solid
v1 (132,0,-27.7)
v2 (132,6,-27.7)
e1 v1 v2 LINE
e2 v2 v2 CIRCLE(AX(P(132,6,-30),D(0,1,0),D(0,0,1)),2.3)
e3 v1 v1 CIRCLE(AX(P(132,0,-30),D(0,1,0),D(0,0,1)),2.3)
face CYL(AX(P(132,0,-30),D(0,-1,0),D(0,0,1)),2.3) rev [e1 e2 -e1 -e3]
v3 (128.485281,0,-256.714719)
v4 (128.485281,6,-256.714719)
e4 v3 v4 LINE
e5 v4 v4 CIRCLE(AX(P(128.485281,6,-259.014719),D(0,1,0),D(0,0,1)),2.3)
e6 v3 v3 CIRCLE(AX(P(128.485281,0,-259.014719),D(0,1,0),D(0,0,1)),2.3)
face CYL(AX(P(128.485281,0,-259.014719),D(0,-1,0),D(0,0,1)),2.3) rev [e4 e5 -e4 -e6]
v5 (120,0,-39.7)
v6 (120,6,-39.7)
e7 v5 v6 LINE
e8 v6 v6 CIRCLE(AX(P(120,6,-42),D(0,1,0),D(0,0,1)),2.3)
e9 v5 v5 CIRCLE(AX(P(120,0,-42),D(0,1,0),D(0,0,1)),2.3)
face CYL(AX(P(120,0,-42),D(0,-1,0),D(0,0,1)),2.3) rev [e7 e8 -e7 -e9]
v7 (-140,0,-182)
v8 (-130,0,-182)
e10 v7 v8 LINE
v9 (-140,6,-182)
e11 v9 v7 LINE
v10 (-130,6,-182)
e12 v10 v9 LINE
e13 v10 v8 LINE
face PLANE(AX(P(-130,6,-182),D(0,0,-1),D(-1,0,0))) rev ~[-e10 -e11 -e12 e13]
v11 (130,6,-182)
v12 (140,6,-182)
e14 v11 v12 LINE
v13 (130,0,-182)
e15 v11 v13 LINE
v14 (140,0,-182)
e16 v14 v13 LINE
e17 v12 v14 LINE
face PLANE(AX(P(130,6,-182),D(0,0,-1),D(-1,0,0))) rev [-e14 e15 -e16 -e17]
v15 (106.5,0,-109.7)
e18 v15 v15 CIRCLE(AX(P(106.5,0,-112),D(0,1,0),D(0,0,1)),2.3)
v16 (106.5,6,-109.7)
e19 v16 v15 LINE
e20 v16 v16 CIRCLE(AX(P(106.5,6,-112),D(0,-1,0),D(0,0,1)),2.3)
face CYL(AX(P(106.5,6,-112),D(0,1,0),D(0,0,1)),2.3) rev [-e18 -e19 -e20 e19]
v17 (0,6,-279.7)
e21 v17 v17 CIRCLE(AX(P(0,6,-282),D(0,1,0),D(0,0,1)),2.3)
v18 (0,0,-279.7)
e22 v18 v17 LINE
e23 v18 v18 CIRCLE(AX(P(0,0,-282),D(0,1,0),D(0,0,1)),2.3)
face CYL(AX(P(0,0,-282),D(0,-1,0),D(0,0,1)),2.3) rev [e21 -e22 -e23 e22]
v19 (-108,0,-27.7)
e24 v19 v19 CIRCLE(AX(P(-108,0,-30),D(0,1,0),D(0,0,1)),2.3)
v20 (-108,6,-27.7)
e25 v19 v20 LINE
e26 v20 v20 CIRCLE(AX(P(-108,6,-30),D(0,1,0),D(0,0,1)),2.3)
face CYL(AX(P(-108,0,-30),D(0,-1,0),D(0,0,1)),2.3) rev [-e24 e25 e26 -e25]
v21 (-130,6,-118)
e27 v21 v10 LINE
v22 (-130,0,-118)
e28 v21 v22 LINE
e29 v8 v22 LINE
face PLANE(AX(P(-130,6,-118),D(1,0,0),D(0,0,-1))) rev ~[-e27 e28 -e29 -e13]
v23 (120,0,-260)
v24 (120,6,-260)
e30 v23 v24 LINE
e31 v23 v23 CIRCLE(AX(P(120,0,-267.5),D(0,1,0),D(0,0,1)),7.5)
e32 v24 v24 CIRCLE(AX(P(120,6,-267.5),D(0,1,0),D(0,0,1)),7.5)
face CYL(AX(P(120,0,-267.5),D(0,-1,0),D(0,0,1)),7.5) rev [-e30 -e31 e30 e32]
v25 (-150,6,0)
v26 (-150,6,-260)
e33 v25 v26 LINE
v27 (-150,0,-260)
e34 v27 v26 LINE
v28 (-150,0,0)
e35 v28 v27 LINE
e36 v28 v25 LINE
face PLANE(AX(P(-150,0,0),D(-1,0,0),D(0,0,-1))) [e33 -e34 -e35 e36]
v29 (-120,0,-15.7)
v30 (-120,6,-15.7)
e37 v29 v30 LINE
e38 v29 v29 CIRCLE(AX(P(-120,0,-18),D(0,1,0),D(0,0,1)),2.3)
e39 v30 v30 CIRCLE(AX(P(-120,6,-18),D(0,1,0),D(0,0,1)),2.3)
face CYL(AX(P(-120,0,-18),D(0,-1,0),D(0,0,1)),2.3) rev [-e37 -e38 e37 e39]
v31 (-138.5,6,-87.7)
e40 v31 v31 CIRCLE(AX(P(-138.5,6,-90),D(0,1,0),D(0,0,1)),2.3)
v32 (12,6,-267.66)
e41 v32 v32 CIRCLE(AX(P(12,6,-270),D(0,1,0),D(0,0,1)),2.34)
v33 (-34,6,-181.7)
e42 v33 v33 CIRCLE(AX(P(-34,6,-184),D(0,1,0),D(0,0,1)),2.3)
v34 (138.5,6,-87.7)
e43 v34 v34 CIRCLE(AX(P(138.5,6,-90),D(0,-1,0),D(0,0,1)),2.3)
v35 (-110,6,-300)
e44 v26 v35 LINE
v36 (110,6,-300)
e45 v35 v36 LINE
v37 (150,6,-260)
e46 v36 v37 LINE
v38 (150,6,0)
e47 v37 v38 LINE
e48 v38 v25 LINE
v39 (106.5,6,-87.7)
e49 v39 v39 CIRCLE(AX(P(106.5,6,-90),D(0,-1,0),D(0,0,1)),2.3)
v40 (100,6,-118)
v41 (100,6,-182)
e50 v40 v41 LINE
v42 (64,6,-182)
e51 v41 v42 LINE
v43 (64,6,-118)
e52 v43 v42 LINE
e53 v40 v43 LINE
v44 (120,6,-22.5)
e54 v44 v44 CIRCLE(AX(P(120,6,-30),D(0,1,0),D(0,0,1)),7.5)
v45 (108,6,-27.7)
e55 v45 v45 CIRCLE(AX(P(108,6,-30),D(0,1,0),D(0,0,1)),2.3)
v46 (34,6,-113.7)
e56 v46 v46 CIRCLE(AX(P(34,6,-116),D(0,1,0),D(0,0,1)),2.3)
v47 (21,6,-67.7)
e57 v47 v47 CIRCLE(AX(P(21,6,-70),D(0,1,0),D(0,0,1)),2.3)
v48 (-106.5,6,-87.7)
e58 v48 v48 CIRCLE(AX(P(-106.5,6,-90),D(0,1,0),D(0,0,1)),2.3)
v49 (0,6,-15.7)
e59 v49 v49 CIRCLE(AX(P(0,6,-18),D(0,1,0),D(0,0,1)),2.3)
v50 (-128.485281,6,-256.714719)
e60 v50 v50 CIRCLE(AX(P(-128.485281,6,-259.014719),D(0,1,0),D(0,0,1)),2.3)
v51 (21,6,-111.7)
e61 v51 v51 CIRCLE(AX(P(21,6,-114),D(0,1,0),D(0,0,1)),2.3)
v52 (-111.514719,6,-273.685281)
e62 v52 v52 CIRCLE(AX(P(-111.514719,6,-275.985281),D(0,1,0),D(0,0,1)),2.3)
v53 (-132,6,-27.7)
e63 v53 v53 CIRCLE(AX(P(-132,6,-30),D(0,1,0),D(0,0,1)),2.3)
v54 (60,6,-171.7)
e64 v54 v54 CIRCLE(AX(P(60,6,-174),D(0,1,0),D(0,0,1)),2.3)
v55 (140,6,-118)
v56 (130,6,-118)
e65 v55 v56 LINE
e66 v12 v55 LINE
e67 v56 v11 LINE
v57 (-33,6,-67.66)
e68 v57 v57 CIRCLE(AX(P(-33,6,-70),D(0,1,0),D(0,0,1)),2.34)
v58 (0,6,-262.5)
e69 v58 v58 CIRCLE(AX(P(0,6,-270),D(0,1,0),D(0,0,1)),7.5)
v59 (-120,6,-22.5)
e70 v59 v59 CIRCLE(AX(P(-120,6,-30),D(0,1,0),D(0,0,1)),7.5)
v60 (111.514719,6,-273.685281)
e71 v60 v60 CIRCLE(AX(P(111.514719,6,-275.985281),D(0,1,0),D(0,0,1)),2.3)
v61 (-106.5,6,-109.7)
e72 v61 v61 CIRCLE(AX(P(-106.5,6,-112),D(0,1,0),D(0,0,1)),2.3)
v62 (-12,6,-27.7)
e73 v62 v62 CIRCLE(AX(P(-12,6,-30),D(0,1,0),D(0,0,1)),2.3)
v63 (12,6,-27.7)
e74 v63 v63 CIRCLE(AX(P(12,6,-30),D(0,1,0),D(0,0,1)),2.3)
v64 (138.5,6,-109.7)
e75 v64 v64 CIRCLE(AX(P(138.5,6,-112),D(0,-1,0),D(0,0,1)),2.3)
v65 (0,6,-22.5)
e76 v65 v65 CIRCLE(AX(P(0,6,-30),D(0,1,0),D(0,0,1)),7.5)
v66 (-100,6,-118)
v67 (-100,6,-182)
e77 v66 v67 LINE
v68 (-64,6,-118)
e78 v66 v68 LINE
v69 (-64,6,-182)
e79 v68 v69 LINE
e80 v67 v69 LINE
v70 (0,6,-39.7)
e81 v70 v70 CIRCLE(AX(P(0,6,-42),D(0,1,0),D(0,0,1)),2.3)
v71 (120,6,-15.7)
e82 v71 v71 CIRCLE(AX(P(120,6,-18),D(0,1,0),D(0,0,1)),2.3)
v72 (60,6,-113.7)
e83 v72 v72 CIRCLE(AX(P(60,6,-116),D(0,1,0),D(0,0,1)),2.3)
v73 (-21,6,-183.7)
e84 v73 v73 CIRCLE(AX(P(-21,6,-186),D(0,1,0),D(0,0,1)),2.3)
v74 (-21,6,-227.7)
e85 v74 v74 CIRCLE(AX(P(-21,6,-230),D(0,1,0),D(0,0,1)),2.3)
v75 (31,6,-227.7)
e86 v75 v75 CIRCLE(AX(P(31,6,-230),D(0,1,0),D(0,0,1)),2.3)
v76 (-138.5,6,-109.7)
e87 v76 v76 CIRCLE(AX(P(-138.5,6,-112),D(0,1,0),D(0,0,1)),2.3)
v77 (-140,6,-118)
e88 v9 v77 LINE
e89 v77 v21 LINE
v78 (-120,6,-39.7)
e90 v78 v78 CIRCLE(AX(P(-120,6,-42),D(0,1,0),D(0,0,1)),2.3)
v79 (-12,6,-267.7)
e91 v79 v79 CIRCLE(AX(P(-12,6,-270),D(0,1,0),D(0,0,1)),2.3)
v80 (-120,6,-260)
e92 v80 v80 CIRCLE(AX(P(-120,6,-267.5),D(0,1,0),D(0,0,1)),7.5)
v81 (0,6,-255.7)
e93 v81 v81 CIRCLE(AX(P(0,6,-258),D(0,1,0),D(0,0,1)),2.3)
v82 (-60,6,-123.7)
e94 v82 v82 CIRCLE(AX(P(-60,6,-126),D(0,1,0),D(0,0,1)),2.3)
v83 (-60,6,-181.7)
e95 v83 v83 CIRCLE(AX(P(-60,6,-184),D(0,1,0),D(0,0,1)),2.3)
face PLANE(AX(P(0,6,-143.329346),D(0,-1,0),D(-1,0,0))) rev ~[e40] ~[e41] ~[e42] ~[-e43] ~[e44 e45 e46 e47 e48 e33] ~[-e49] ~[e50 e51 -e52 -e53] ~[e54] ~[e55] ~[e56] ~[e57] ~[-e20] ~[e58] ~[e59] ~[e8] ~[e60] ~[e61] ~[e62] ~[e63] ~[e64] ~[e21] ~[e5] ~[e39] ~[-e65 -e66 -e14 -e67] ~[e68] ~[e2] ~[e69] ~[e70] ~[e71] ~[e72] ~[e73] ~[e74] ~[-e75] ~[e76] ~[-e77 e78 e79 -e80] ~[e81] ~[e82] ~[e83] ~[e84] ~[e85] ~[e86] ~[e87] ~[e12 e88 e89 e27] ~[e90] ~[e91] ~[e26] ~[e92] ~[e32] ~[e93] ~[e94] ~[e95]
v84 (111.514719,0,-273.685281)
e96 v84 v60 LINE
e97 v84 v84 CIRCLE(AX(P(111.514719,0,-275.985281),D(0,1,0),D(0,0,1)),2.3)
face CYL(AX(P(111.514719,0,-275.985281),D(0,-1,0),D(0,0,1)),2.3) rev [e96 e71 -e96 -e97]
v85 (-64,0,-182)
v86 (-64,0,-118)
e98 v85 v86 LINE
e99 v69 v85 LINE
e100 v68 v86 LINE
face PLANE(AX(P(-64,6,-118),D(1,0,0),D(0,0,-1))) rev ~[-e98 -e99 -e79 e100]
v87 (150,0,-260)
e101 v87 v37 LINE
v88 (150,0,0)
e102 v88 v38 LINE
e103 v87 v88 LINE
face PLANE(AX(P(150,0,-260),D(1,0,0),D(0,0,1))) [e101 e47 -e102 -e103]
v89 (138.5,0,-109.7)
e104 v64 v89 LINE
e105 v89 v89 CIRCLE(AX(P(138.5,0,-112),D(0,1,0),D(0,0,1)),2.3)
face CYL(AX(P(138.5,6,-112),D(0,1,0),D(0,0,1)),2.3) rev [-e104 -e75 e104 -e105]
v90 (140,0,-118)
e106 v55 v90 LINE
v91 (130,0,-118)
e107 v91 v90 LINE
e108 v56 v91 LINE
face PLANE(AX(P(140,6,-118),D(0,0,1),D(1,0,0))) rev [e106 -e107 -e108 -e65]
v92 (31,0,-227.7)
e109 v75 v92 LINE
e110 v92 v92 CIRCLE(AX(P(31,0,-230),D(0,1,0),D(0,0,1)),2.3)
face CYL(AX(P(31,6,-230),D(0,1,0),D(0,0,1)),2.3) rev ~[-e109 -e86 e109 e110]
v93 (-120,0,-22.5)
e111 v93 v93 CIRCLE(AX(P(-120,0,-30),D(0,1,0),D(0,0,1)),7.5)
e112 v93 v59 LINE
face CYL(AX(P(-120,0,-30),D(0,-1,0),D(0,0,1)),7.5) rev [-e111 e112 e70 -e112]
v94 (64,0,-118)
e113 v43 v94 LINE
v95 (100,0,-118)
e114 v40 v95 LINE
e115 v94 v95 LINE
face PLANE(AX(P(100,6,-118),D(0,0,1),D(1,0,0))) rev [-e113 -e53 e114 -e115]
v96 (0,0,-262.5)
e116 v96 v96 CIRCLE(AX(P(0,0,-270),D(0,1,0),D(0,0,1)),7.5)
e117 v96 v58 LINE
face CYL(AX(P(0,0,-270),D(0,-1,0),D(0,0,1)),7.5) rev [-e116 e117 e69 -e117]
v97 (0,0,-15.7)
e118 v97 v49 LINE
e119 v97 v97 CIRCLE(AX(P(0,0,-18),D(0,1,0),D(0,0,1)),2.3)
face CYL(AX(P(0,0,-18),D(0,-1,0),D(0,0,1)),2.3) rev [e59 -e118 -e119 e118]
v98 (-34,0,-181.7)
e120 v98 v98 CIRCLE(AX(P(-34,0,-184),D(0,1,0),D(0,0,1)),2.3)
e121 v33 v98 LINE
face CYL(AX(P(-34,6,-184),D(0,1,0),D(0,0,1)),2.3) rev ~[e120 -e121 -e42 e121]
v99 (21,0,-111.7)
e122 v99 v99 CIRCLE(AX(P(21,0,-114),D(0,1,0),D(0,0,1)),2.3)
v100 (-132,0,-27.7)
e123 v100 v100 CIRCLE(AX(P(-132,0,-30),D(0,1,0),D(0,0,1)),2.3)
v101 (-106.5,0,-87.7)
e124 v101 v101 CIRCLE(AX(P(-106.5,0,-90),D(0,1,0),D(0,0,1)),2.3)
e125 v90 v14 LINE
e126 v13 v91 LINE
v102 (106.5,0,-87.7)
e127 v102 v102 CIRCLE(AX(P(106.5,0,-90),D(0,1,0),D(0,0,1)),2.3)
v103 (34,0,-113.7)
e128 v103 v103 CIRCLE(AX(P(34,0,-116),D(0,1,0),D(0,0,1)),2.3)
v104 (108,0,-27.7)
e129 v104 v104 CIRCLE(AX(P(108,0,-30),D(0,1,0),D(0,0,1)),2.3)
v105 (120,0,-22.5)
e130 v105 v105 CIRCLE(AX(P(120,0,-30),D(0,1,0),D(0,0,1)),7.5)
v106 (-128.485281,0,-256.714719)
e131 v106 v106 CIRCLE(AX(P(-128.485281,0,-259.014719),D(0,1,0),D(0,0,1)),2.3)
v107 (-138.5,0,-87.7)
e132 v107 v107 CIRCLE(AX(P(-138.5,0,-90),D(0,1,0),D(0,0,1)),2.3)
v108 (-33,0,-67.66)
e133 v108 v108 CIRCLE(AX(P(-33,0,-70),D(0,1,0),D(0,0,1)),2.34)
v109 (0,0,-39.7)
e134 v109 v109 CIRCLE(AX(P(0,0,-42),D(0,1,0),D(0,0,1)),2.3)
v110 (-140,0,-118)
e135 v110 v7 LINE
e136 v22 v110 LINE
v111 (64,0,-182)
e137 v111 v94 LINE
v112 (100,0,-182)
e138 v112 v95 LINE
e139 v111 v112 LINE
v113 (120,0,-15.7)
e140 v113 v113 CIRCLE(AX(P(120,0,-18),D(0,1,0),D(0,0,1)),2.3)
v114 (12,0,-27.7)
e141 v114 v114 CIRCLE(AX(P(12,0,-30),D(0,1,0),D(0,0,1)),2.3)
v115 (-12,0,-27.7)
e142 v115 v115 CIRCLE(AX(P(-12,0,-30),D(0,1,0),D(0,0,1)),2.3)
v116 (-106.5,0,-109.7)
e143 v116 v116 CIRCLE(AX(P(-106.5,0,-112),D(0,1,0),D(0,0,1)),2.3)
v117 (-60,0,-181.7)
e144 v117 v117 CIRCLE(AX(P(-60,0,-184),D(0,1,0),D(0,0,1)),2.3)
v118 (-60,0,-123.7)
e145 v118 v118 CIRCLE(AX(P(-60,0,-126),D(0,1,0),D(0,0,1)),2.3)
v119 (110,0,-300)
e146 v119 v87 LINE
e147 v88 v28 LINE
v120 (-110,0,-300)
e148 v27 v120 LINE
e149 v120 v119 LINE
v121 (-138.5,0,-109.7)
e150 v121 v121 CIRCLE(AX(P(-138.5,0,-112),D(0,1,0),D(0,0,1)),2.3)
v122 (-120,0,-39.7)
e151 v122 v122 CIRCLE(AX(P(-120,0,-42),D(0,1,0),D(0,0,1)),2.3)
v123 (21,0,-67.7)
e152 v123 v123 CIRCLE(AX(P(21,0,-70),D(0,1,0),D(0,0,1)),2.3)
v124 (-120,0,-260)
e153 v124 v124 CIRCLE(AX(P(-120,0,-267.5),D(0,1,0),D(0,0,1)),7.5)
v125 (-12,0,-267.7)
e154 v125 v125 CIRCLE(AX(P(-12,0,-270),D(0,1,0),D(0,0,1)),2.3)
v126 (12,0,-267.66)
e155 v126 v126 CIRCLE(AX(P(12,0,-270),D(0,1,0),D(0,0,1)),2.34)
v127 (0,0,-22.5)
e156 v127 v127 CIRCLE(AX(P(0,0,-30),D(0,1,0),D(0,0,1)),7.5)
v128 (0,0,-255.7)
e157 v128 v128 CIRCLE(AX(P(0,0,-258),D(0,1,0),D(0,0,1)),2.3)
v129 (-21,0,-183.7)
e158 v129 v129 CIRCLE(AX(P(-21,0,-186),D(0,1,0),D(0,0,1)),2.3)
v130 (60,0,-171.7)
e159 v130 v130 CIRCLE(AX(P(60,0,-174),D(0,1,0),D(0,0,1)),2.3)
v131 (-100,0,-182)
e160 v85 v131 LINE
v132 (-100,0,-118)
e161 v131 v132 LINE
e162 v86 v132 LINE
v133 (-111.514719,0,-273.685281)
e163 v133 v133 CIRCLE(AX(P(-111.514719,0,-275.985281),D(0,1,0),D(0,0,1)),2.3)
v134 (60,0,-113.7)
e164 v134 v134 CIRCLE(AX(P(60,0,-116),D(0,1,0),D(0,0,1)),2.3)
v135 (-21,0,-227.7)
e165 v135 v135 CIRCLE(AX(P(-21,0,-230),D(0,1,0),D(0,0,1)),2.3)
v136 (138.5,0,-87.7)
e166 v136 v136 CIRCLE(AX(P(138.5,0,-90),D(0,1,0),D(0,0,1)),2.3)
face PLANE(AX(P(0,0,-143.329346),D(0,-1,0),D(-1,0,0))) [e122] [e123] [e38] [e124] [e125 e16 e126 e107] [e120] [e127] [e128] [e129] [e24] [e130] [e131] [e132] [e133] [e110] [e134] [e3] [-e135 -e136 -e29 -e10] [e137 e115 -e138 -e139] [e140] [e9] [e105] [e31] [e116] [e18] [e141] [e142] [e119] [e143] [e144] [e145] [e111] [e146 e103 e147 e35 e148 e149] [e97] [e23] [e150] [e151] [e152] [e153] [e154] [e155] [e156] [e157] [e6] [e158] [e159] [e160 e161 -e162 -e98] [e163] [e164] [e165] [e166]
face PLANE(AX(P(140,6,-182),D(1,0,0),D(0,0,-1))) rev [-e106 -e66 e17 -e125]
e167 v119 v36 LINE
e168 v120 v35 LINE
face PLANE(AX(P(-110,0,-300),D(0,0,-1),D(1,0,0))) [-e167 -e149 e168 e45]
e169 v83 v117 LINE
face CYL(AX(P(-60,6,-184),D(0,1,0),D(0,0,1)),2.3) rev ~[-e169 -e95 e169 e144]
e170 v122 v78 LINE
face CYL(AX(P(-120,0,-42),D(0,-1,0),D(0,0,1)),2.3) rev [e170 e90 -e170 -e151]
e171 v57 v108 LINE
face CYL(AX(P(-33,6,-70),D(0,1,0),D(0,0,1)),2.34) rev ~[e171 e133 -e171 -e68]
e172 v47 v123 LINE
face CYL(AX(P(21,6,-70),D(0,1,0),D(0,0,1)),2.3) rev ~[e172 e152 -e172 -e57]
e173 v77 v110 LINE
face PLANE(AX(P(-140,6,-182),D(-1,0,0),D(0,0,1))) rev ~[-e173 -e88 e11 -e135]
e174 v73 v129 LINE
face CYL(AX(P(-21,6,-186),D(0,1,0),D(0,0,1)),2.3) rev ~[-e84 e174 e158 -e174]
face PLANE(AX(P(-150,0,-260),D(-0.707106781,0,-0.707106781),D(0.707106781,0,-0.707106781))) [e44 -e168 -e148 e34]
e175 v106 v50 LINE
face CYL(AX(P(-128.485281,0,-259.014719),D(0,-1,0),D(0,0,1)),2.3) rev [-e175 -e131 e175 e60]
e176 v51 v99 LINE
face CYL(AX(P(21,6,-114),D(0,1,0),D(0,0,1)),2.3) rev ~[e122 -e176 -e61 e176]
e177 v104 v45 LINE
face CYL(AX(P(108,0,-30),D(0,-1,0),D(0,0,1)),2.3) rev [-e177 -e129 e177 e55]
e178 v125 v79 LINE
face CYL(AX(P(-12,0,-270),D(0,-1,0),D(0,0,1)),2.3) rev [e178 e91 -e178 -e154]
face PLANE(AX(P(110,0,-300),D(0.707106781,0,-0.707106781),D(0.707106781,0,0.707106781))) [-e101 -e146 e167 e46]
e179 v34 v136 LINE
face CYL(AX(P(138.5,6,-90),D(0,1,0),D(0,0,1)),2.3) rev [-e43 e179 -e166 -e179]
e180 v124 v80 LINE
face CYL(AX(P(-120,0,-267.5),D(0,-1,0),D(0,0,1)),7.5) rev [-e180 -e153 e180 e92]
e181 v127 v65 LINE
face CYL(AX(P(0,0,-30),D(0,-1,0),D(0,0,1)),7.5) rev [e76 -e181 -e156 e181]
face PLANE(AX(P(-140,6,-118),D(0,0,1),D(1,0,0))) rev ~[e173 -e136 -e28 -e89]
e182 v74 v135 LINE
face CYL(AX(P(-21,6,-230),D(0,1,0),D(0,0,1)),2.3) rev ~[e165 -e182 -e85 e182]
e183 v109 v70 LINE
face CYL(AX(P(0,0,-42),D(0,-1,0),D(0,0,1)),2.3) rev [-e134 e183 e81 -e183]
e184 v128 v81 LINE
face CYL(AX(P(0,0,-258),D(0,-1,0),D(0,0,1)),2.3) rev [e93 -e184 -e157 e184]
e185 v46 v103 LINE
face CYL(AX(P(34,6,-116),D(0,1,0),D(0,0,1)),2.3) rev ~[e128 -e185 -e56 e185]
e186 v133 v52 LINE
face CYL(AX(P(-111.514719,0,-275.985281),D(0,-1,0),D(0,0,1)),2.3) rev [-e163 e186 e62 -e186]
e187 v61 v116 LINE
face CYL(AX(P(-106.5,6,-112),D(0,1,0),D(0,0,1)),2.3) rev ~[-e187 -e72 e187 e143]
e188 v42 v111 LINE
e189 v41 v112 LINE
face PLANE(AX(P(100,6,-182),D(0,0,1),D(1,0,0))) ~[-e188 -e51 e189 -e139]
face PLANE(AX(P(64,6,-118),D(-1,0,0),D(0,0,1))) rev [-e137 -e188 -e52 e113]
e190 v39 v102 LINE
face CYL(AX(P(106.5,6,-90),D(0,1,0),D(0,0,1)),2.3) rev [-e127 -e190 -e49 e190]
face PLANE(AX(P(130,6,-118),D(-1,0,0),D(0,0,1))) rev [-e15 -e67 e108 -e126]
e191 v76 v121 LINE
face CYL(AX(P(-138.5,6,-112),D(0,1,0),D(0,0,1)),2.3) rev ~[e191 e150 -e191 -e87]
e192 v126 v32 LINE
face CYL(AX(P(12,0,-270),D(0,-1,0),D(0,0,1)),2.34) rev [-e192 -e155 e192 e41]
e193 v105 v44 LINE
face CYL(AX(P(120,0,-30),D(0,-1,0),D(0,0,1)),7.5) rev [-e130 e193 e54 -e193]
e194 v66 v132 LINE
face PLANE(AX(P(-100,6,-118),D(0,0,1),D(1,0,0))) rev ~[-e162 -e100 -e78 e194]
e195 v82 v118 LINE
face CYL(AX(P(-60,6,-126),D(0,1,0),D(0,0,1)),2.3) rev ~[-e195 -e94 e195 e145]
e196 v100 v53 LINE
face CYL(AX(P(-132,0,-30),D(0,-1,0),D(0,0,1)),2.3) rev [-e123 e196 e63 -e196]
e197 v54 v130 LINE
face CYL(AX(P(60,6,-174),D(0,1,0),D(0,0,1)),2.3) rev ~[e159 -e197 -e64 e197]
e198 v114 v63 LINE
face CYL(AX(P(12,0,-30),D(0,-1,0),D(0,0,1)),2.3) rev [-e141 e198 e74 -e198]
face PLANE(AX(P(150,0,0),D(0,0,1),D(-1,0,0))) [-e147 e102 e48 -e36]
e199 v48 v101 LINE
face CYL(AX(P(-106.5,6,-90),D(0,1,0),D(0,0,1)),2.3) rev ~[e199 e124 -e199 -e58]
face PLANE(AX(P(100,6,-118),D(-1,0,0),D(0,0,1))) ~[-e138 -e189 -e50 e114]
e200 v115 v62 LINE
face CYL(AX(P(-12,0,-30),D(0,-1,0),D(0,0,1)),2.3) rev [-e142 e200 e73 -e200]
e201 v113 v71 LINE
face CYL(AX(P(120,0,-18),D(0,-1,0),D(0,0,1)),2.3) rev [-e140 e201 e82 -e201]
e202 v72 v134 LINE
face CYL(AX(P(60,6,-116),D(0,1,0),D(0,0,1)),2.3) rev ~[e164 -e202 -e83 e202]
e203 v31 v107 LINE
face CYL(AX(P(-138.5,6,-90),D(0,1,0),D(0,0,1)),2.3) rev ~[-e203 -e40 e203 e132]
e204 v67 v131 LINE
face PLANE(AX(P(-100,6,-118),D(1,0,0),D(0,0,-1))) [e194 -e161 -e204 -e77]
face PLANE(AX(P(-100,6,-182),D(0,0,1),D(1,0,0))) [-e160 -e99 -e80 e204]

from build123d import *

# Parameters (mm, degrees)
ESQUISSE1_R              = 7.5
ESQUISSE1_R_2            = 2.3
ESQUISSE1_R_3            = 2.34
BOSS_EXTRU_1_DEPTH       = 6
ENL_V_MAT_EXTRU_9_DEPTH  = 10.5
ESQUISSE6_R              = 2.3
ENL_V_MAT_EXTRU_10_DEPTH = 50
ESQUISSE4_W              = 36
ESQUISSE4_H              = 64
ENL_V_MAT_EXTRU_11_DEPTH = 50
ESQUISSE11_R             = 2.3
ESQUISSE11_R_2           = 2.34
ENL_V_MAT_EXTRU_15_DEPTH = 10


with BuildPart() as part:
    # Esquisse1 → Boss.-Extru.1 (new body)
    with BuildSketch(Plane(origin=(0, 0, 0), x_dir=(1, 0, 0), z_dir=(0, 1, 0))):
        Polygon((-150, 0), (-150, 260), (-110, 300), (110, 300), (150, 260), (150, 0), align=None)
        with Locations(Location((-120, 30, 0), (0, 0, 270))):
            Circle(ESQUISSE1_R, mode=Mode.SUBTRACT)
        with Locations(Location((-120, 267.5, 0), (0, 0, 270))):
            Circle(ESQUISSE1_R, mode=Mode.SUBTRACT)
        with Locations(Location((120, 267.5, 0), (0, 0, 270))):
            Circle(ESQUISSE1_R, mode=Mode.SUBTRACT)
        with Locations(Location((-111.514718626, 275.985281374, 0), (0, 0, 270))):
            Circle(ESQUISSE1_R_2, mode=Mode.SUBTRACT)
        with Locations(Location((-128.485281374, 259.014718626, 0), (0, 0, 270))):
            Circle(ESQUISSE1_R_2, mode=Mode.SUBTRACT)
        with Locations(Location((111.514718626, 275.985281374, 0), (0, 0, 270))):
            Circle(ESQUISSE1_R_2, mode=Mode.SUBTRACT)
        with Locations(Location((128.485281374, 259.014718626, 0), (0, 0, 270))):
            Circle(ESQUISSE1_R_2, mode=Mode.SUBTRACT)
        with Locations(Location((120, 30, 0), (0, 0, 270))):
            Circle(ESQUISSE1_R, mode=Mode.SUBTRACT)
        with Locations(Location((120, 42, 0), (0, 0, 270))):
            Circle(ESQUISSE1_R_2, mode=Mode.SUBTRACT)
        with Locations(Location((-120, 42, 0), (0, 0, 270))):
            Circle(ESQUISSE1_R_2, mode=Mode.SUBTRACT)
        with Locations(Location((-120, 18, 0), (0, 0, 270))):
            Circle(ESQUISSE1_R_2, mode=Mode.SUBTRACT)
        with Locations(Location((-132, 30, 0), (0, 0, 270))):
            Circle(ESQUISSE1_R_2, mode=Mode.SUBTRACT)
        with Locations(Location((-108, 30, 0), (0, 0, 270))):
            Circle(ESQUISSE1_R_2, mode=Mode.SUBTRACT)
        with Locations(Location((108, 30, 0), (0, 0, 270))):
            Circle(ESQUISSE1_R_2, mode=Mode.SUBTRACT)
        with Locations(Location((132, 30, 0), (0, 0, 270))):
            Circle(ESQUISSE1_R_2, mode=Mode.SUBTRACT)
        with Locations(Location((120, 18, 0), (0, 0, 270))):
            Circle(ESQUISSE1_R_2, mode=Mode.SUBTRACT)
        with Locations(Location((0, 30, 0), (0, 0, 270))):
            Circle(ESQUISSE1_R, mode=Mode.SUBTRACT)
        with Locations(Location((0, 18, 0), (0, 0, 270))):
            Circle(ESQUISSE1_R_2, mode=Mode.SUBTRACT)
        with Locations(Location((12, 30, 0), (0, 0, 270))):
            Circle(ESQUISSE1_R_2, mode=Mode.SUBTRACT)
        with Locations(Location((0, 42, 0), (0, 0, 270))):
            Circle(ESQUISSE1_R_2, mode=Mode.SUBTRACT)
        with Locations(Location((-12, 30, 0), (0, 0, 270))):
            Circle(ESQUISSE1_R_2, mode=Mode.SUBTRACT)
        with Locations(Location((0, 270, 0), (0, 0, 270))):
            Circle(ESQUISSE1_R, mode=Mode.SUBTRACT)
        with Locations(Location((-12, 270, 0), (0, 0, 270))):
            Circle(ESQUISSE1_R_2, mode=Mode.SUBTRACT)
        with Locations(Location((0, 282, 0), (0, 0, 270))):
            Circle(ESQUISSE1_R_2, mode=Mode.SUBTRACT)
        with Locations(Location((12, 270, 0), (0, 0, 270))):
            Circle(ESQUISSE1_R_3, mode=Mode.SUBTRACT)
        with Locations(Location((0, 258, 0), (0, 0, 270))):
            Circle(ESQUISSE1_R_2, mode=Mode.SUBTRACT)
    extrude(amount=BOSS_EXTRU_1_DEPTH)

    # Esquisse7 → Enlèv. mat.-Extru.9 (cut)
    with BuildSketch(Plane(origin=(0, 6, 0), x_dir=(1, 0, 0), z_dir=(0, 1, 0))):
        Polygon((-130, 150), (-130, 182), (-140, 182), (-140, 118), (-130, 118), align=None)
    enl_v_mat_extru_9 = extrude(amount=-ENL_V_MAT_EXTRU_9_DEPTH, mode=Mode.SUBTRACT)

    # Esquisse6 → Enlèv. mat.-Extru.10 (cut)
    with BuildSketch(Plane(origin=(0, 6, 0), x_dir=(1, 0, 0), z_dir=(0, 1, 0))):
        with Locations(Location((-138.5, 90, 0), (0, 0, 270))):
            Circle(ESQUISSE6_R)
        with Locations(Location((-138.5, 112, 0), (0, 0, 270))):
            Circle(ESQUISSE6_R)
        with Locations(Location((-106.5, 112, 0), (0, 0, 270))):
            Circle(ESQUISSE6_R)
        with Locations(Location((-106.5, 90, 0), (0, 0, 270))):
            Circle(ESQUISSE6_R)
    enl_v_mat_extru_10 = extrude(amount=-ENL_V_MAT_EXTRU_10_DEPTH, mode=Mode.SUBTRACT)

    # Esquisse4 → Enlèv. mat.-Extru.11 (cut)
    with BuildSketch(Plane(origin=(0, 6, 0), x_dir=(1, 0, 0), z_dir=(0, 1, 0))):
        with Locations((-82, 150)):
            Rectangle(ESQUISSE4_W, ESQUISSE4_H)
    enl_v_mat_extru_11 = extrude(amount=-ENL_V_MAT_EXTRU_11_DEPTH, mode=Mode.SUBTRACT)

    # Symétrie1: Enlèv. mat.-Extru.9 across plane
    add(enl_v_mat_extru_9.mirror(Plane(origin=(0, 0, 0), x_dir=(0, 0, 1), z_dir=(1, 0, 0))), mode=Mode.SUBTRACT)

    # Symétrie2: Enlèv. mat.-Extru.11 across plane
    add(enl_v_mat_extru_11.mirror(Plane(origin=(0, 0, 0), x_dir=(0, 0, 1), z_dir=(1, 0, 0))), mode=Mode.SUBTRACT)

    # Symétrie3: Enlèv. mat.-Extru.10 across plane
    add(enl_v_mat_extru_10.mirror(Plane(origin=(0, 0, 0), x_dir=(0, 0, 1), z_dir=(1, 0, 0))), mode=Mode.SUBTRACT)

    # Esquisse11 → Enlèv. mat.-Extru.15 (cut)
    with BuildSketch(Plane(origin=(0, 6, 0), x_dir=(1, 0, 0), z_dir=(0, 1, 0))):
        with Locations(Location((34, 116, 0), (0, 0, 270))):
            Circle(ESQUISSE11_R)
        with Locations(Location((60, 116, 0), (0, 0, 270))):
            Circle(ESQUISSE11_R)
        with Locations(Location((60, 174, 0), (0, 0, 270))):
            Circle(ESQUISSE11_R)
        with Locations(Location((-21, 230, 0), (0, 0, 270))):
            Circle(ESQUISSE11_R)
        with Locations(Location((-21, 186, 0), (0, 0, 270))):
            Circle(ESQUISSE11_R)
        with Locations(Location((31, 230, 0), (0, 0, 270))):
            Circle(ESQUISSE11_R)
        with Locations(Location((-60, 126, 0), (0, 0, 270))):
            Circle(ESQUISSE11_R)
        with Locations(Location((-34, 184, 0), (0, 0, 270))):
            Circle(ESQUISSE11_R)
        with Locations(Location((-60, 184, 0), (0, 0, 270))):
            Circle(ESQUISSE11_R)
        with Locations(Location((-33, 70, 0), (0, 0, 270))):
            Circle(ESQUISSE11_R_2)
        with Locations(Location((21, 70, 0), (0, 0, 270))):
            Circle(ESQUISSE11_R)
        with Locations(Location((21, 114, 0), (0, 0, 270))):
            Circle(ESQUISSE11_R)
    extrude(amount=-ENL_V_MAT_EXTRU_15_DEPTH, mode=Mode.SUBTRACT)


solid = part.part
